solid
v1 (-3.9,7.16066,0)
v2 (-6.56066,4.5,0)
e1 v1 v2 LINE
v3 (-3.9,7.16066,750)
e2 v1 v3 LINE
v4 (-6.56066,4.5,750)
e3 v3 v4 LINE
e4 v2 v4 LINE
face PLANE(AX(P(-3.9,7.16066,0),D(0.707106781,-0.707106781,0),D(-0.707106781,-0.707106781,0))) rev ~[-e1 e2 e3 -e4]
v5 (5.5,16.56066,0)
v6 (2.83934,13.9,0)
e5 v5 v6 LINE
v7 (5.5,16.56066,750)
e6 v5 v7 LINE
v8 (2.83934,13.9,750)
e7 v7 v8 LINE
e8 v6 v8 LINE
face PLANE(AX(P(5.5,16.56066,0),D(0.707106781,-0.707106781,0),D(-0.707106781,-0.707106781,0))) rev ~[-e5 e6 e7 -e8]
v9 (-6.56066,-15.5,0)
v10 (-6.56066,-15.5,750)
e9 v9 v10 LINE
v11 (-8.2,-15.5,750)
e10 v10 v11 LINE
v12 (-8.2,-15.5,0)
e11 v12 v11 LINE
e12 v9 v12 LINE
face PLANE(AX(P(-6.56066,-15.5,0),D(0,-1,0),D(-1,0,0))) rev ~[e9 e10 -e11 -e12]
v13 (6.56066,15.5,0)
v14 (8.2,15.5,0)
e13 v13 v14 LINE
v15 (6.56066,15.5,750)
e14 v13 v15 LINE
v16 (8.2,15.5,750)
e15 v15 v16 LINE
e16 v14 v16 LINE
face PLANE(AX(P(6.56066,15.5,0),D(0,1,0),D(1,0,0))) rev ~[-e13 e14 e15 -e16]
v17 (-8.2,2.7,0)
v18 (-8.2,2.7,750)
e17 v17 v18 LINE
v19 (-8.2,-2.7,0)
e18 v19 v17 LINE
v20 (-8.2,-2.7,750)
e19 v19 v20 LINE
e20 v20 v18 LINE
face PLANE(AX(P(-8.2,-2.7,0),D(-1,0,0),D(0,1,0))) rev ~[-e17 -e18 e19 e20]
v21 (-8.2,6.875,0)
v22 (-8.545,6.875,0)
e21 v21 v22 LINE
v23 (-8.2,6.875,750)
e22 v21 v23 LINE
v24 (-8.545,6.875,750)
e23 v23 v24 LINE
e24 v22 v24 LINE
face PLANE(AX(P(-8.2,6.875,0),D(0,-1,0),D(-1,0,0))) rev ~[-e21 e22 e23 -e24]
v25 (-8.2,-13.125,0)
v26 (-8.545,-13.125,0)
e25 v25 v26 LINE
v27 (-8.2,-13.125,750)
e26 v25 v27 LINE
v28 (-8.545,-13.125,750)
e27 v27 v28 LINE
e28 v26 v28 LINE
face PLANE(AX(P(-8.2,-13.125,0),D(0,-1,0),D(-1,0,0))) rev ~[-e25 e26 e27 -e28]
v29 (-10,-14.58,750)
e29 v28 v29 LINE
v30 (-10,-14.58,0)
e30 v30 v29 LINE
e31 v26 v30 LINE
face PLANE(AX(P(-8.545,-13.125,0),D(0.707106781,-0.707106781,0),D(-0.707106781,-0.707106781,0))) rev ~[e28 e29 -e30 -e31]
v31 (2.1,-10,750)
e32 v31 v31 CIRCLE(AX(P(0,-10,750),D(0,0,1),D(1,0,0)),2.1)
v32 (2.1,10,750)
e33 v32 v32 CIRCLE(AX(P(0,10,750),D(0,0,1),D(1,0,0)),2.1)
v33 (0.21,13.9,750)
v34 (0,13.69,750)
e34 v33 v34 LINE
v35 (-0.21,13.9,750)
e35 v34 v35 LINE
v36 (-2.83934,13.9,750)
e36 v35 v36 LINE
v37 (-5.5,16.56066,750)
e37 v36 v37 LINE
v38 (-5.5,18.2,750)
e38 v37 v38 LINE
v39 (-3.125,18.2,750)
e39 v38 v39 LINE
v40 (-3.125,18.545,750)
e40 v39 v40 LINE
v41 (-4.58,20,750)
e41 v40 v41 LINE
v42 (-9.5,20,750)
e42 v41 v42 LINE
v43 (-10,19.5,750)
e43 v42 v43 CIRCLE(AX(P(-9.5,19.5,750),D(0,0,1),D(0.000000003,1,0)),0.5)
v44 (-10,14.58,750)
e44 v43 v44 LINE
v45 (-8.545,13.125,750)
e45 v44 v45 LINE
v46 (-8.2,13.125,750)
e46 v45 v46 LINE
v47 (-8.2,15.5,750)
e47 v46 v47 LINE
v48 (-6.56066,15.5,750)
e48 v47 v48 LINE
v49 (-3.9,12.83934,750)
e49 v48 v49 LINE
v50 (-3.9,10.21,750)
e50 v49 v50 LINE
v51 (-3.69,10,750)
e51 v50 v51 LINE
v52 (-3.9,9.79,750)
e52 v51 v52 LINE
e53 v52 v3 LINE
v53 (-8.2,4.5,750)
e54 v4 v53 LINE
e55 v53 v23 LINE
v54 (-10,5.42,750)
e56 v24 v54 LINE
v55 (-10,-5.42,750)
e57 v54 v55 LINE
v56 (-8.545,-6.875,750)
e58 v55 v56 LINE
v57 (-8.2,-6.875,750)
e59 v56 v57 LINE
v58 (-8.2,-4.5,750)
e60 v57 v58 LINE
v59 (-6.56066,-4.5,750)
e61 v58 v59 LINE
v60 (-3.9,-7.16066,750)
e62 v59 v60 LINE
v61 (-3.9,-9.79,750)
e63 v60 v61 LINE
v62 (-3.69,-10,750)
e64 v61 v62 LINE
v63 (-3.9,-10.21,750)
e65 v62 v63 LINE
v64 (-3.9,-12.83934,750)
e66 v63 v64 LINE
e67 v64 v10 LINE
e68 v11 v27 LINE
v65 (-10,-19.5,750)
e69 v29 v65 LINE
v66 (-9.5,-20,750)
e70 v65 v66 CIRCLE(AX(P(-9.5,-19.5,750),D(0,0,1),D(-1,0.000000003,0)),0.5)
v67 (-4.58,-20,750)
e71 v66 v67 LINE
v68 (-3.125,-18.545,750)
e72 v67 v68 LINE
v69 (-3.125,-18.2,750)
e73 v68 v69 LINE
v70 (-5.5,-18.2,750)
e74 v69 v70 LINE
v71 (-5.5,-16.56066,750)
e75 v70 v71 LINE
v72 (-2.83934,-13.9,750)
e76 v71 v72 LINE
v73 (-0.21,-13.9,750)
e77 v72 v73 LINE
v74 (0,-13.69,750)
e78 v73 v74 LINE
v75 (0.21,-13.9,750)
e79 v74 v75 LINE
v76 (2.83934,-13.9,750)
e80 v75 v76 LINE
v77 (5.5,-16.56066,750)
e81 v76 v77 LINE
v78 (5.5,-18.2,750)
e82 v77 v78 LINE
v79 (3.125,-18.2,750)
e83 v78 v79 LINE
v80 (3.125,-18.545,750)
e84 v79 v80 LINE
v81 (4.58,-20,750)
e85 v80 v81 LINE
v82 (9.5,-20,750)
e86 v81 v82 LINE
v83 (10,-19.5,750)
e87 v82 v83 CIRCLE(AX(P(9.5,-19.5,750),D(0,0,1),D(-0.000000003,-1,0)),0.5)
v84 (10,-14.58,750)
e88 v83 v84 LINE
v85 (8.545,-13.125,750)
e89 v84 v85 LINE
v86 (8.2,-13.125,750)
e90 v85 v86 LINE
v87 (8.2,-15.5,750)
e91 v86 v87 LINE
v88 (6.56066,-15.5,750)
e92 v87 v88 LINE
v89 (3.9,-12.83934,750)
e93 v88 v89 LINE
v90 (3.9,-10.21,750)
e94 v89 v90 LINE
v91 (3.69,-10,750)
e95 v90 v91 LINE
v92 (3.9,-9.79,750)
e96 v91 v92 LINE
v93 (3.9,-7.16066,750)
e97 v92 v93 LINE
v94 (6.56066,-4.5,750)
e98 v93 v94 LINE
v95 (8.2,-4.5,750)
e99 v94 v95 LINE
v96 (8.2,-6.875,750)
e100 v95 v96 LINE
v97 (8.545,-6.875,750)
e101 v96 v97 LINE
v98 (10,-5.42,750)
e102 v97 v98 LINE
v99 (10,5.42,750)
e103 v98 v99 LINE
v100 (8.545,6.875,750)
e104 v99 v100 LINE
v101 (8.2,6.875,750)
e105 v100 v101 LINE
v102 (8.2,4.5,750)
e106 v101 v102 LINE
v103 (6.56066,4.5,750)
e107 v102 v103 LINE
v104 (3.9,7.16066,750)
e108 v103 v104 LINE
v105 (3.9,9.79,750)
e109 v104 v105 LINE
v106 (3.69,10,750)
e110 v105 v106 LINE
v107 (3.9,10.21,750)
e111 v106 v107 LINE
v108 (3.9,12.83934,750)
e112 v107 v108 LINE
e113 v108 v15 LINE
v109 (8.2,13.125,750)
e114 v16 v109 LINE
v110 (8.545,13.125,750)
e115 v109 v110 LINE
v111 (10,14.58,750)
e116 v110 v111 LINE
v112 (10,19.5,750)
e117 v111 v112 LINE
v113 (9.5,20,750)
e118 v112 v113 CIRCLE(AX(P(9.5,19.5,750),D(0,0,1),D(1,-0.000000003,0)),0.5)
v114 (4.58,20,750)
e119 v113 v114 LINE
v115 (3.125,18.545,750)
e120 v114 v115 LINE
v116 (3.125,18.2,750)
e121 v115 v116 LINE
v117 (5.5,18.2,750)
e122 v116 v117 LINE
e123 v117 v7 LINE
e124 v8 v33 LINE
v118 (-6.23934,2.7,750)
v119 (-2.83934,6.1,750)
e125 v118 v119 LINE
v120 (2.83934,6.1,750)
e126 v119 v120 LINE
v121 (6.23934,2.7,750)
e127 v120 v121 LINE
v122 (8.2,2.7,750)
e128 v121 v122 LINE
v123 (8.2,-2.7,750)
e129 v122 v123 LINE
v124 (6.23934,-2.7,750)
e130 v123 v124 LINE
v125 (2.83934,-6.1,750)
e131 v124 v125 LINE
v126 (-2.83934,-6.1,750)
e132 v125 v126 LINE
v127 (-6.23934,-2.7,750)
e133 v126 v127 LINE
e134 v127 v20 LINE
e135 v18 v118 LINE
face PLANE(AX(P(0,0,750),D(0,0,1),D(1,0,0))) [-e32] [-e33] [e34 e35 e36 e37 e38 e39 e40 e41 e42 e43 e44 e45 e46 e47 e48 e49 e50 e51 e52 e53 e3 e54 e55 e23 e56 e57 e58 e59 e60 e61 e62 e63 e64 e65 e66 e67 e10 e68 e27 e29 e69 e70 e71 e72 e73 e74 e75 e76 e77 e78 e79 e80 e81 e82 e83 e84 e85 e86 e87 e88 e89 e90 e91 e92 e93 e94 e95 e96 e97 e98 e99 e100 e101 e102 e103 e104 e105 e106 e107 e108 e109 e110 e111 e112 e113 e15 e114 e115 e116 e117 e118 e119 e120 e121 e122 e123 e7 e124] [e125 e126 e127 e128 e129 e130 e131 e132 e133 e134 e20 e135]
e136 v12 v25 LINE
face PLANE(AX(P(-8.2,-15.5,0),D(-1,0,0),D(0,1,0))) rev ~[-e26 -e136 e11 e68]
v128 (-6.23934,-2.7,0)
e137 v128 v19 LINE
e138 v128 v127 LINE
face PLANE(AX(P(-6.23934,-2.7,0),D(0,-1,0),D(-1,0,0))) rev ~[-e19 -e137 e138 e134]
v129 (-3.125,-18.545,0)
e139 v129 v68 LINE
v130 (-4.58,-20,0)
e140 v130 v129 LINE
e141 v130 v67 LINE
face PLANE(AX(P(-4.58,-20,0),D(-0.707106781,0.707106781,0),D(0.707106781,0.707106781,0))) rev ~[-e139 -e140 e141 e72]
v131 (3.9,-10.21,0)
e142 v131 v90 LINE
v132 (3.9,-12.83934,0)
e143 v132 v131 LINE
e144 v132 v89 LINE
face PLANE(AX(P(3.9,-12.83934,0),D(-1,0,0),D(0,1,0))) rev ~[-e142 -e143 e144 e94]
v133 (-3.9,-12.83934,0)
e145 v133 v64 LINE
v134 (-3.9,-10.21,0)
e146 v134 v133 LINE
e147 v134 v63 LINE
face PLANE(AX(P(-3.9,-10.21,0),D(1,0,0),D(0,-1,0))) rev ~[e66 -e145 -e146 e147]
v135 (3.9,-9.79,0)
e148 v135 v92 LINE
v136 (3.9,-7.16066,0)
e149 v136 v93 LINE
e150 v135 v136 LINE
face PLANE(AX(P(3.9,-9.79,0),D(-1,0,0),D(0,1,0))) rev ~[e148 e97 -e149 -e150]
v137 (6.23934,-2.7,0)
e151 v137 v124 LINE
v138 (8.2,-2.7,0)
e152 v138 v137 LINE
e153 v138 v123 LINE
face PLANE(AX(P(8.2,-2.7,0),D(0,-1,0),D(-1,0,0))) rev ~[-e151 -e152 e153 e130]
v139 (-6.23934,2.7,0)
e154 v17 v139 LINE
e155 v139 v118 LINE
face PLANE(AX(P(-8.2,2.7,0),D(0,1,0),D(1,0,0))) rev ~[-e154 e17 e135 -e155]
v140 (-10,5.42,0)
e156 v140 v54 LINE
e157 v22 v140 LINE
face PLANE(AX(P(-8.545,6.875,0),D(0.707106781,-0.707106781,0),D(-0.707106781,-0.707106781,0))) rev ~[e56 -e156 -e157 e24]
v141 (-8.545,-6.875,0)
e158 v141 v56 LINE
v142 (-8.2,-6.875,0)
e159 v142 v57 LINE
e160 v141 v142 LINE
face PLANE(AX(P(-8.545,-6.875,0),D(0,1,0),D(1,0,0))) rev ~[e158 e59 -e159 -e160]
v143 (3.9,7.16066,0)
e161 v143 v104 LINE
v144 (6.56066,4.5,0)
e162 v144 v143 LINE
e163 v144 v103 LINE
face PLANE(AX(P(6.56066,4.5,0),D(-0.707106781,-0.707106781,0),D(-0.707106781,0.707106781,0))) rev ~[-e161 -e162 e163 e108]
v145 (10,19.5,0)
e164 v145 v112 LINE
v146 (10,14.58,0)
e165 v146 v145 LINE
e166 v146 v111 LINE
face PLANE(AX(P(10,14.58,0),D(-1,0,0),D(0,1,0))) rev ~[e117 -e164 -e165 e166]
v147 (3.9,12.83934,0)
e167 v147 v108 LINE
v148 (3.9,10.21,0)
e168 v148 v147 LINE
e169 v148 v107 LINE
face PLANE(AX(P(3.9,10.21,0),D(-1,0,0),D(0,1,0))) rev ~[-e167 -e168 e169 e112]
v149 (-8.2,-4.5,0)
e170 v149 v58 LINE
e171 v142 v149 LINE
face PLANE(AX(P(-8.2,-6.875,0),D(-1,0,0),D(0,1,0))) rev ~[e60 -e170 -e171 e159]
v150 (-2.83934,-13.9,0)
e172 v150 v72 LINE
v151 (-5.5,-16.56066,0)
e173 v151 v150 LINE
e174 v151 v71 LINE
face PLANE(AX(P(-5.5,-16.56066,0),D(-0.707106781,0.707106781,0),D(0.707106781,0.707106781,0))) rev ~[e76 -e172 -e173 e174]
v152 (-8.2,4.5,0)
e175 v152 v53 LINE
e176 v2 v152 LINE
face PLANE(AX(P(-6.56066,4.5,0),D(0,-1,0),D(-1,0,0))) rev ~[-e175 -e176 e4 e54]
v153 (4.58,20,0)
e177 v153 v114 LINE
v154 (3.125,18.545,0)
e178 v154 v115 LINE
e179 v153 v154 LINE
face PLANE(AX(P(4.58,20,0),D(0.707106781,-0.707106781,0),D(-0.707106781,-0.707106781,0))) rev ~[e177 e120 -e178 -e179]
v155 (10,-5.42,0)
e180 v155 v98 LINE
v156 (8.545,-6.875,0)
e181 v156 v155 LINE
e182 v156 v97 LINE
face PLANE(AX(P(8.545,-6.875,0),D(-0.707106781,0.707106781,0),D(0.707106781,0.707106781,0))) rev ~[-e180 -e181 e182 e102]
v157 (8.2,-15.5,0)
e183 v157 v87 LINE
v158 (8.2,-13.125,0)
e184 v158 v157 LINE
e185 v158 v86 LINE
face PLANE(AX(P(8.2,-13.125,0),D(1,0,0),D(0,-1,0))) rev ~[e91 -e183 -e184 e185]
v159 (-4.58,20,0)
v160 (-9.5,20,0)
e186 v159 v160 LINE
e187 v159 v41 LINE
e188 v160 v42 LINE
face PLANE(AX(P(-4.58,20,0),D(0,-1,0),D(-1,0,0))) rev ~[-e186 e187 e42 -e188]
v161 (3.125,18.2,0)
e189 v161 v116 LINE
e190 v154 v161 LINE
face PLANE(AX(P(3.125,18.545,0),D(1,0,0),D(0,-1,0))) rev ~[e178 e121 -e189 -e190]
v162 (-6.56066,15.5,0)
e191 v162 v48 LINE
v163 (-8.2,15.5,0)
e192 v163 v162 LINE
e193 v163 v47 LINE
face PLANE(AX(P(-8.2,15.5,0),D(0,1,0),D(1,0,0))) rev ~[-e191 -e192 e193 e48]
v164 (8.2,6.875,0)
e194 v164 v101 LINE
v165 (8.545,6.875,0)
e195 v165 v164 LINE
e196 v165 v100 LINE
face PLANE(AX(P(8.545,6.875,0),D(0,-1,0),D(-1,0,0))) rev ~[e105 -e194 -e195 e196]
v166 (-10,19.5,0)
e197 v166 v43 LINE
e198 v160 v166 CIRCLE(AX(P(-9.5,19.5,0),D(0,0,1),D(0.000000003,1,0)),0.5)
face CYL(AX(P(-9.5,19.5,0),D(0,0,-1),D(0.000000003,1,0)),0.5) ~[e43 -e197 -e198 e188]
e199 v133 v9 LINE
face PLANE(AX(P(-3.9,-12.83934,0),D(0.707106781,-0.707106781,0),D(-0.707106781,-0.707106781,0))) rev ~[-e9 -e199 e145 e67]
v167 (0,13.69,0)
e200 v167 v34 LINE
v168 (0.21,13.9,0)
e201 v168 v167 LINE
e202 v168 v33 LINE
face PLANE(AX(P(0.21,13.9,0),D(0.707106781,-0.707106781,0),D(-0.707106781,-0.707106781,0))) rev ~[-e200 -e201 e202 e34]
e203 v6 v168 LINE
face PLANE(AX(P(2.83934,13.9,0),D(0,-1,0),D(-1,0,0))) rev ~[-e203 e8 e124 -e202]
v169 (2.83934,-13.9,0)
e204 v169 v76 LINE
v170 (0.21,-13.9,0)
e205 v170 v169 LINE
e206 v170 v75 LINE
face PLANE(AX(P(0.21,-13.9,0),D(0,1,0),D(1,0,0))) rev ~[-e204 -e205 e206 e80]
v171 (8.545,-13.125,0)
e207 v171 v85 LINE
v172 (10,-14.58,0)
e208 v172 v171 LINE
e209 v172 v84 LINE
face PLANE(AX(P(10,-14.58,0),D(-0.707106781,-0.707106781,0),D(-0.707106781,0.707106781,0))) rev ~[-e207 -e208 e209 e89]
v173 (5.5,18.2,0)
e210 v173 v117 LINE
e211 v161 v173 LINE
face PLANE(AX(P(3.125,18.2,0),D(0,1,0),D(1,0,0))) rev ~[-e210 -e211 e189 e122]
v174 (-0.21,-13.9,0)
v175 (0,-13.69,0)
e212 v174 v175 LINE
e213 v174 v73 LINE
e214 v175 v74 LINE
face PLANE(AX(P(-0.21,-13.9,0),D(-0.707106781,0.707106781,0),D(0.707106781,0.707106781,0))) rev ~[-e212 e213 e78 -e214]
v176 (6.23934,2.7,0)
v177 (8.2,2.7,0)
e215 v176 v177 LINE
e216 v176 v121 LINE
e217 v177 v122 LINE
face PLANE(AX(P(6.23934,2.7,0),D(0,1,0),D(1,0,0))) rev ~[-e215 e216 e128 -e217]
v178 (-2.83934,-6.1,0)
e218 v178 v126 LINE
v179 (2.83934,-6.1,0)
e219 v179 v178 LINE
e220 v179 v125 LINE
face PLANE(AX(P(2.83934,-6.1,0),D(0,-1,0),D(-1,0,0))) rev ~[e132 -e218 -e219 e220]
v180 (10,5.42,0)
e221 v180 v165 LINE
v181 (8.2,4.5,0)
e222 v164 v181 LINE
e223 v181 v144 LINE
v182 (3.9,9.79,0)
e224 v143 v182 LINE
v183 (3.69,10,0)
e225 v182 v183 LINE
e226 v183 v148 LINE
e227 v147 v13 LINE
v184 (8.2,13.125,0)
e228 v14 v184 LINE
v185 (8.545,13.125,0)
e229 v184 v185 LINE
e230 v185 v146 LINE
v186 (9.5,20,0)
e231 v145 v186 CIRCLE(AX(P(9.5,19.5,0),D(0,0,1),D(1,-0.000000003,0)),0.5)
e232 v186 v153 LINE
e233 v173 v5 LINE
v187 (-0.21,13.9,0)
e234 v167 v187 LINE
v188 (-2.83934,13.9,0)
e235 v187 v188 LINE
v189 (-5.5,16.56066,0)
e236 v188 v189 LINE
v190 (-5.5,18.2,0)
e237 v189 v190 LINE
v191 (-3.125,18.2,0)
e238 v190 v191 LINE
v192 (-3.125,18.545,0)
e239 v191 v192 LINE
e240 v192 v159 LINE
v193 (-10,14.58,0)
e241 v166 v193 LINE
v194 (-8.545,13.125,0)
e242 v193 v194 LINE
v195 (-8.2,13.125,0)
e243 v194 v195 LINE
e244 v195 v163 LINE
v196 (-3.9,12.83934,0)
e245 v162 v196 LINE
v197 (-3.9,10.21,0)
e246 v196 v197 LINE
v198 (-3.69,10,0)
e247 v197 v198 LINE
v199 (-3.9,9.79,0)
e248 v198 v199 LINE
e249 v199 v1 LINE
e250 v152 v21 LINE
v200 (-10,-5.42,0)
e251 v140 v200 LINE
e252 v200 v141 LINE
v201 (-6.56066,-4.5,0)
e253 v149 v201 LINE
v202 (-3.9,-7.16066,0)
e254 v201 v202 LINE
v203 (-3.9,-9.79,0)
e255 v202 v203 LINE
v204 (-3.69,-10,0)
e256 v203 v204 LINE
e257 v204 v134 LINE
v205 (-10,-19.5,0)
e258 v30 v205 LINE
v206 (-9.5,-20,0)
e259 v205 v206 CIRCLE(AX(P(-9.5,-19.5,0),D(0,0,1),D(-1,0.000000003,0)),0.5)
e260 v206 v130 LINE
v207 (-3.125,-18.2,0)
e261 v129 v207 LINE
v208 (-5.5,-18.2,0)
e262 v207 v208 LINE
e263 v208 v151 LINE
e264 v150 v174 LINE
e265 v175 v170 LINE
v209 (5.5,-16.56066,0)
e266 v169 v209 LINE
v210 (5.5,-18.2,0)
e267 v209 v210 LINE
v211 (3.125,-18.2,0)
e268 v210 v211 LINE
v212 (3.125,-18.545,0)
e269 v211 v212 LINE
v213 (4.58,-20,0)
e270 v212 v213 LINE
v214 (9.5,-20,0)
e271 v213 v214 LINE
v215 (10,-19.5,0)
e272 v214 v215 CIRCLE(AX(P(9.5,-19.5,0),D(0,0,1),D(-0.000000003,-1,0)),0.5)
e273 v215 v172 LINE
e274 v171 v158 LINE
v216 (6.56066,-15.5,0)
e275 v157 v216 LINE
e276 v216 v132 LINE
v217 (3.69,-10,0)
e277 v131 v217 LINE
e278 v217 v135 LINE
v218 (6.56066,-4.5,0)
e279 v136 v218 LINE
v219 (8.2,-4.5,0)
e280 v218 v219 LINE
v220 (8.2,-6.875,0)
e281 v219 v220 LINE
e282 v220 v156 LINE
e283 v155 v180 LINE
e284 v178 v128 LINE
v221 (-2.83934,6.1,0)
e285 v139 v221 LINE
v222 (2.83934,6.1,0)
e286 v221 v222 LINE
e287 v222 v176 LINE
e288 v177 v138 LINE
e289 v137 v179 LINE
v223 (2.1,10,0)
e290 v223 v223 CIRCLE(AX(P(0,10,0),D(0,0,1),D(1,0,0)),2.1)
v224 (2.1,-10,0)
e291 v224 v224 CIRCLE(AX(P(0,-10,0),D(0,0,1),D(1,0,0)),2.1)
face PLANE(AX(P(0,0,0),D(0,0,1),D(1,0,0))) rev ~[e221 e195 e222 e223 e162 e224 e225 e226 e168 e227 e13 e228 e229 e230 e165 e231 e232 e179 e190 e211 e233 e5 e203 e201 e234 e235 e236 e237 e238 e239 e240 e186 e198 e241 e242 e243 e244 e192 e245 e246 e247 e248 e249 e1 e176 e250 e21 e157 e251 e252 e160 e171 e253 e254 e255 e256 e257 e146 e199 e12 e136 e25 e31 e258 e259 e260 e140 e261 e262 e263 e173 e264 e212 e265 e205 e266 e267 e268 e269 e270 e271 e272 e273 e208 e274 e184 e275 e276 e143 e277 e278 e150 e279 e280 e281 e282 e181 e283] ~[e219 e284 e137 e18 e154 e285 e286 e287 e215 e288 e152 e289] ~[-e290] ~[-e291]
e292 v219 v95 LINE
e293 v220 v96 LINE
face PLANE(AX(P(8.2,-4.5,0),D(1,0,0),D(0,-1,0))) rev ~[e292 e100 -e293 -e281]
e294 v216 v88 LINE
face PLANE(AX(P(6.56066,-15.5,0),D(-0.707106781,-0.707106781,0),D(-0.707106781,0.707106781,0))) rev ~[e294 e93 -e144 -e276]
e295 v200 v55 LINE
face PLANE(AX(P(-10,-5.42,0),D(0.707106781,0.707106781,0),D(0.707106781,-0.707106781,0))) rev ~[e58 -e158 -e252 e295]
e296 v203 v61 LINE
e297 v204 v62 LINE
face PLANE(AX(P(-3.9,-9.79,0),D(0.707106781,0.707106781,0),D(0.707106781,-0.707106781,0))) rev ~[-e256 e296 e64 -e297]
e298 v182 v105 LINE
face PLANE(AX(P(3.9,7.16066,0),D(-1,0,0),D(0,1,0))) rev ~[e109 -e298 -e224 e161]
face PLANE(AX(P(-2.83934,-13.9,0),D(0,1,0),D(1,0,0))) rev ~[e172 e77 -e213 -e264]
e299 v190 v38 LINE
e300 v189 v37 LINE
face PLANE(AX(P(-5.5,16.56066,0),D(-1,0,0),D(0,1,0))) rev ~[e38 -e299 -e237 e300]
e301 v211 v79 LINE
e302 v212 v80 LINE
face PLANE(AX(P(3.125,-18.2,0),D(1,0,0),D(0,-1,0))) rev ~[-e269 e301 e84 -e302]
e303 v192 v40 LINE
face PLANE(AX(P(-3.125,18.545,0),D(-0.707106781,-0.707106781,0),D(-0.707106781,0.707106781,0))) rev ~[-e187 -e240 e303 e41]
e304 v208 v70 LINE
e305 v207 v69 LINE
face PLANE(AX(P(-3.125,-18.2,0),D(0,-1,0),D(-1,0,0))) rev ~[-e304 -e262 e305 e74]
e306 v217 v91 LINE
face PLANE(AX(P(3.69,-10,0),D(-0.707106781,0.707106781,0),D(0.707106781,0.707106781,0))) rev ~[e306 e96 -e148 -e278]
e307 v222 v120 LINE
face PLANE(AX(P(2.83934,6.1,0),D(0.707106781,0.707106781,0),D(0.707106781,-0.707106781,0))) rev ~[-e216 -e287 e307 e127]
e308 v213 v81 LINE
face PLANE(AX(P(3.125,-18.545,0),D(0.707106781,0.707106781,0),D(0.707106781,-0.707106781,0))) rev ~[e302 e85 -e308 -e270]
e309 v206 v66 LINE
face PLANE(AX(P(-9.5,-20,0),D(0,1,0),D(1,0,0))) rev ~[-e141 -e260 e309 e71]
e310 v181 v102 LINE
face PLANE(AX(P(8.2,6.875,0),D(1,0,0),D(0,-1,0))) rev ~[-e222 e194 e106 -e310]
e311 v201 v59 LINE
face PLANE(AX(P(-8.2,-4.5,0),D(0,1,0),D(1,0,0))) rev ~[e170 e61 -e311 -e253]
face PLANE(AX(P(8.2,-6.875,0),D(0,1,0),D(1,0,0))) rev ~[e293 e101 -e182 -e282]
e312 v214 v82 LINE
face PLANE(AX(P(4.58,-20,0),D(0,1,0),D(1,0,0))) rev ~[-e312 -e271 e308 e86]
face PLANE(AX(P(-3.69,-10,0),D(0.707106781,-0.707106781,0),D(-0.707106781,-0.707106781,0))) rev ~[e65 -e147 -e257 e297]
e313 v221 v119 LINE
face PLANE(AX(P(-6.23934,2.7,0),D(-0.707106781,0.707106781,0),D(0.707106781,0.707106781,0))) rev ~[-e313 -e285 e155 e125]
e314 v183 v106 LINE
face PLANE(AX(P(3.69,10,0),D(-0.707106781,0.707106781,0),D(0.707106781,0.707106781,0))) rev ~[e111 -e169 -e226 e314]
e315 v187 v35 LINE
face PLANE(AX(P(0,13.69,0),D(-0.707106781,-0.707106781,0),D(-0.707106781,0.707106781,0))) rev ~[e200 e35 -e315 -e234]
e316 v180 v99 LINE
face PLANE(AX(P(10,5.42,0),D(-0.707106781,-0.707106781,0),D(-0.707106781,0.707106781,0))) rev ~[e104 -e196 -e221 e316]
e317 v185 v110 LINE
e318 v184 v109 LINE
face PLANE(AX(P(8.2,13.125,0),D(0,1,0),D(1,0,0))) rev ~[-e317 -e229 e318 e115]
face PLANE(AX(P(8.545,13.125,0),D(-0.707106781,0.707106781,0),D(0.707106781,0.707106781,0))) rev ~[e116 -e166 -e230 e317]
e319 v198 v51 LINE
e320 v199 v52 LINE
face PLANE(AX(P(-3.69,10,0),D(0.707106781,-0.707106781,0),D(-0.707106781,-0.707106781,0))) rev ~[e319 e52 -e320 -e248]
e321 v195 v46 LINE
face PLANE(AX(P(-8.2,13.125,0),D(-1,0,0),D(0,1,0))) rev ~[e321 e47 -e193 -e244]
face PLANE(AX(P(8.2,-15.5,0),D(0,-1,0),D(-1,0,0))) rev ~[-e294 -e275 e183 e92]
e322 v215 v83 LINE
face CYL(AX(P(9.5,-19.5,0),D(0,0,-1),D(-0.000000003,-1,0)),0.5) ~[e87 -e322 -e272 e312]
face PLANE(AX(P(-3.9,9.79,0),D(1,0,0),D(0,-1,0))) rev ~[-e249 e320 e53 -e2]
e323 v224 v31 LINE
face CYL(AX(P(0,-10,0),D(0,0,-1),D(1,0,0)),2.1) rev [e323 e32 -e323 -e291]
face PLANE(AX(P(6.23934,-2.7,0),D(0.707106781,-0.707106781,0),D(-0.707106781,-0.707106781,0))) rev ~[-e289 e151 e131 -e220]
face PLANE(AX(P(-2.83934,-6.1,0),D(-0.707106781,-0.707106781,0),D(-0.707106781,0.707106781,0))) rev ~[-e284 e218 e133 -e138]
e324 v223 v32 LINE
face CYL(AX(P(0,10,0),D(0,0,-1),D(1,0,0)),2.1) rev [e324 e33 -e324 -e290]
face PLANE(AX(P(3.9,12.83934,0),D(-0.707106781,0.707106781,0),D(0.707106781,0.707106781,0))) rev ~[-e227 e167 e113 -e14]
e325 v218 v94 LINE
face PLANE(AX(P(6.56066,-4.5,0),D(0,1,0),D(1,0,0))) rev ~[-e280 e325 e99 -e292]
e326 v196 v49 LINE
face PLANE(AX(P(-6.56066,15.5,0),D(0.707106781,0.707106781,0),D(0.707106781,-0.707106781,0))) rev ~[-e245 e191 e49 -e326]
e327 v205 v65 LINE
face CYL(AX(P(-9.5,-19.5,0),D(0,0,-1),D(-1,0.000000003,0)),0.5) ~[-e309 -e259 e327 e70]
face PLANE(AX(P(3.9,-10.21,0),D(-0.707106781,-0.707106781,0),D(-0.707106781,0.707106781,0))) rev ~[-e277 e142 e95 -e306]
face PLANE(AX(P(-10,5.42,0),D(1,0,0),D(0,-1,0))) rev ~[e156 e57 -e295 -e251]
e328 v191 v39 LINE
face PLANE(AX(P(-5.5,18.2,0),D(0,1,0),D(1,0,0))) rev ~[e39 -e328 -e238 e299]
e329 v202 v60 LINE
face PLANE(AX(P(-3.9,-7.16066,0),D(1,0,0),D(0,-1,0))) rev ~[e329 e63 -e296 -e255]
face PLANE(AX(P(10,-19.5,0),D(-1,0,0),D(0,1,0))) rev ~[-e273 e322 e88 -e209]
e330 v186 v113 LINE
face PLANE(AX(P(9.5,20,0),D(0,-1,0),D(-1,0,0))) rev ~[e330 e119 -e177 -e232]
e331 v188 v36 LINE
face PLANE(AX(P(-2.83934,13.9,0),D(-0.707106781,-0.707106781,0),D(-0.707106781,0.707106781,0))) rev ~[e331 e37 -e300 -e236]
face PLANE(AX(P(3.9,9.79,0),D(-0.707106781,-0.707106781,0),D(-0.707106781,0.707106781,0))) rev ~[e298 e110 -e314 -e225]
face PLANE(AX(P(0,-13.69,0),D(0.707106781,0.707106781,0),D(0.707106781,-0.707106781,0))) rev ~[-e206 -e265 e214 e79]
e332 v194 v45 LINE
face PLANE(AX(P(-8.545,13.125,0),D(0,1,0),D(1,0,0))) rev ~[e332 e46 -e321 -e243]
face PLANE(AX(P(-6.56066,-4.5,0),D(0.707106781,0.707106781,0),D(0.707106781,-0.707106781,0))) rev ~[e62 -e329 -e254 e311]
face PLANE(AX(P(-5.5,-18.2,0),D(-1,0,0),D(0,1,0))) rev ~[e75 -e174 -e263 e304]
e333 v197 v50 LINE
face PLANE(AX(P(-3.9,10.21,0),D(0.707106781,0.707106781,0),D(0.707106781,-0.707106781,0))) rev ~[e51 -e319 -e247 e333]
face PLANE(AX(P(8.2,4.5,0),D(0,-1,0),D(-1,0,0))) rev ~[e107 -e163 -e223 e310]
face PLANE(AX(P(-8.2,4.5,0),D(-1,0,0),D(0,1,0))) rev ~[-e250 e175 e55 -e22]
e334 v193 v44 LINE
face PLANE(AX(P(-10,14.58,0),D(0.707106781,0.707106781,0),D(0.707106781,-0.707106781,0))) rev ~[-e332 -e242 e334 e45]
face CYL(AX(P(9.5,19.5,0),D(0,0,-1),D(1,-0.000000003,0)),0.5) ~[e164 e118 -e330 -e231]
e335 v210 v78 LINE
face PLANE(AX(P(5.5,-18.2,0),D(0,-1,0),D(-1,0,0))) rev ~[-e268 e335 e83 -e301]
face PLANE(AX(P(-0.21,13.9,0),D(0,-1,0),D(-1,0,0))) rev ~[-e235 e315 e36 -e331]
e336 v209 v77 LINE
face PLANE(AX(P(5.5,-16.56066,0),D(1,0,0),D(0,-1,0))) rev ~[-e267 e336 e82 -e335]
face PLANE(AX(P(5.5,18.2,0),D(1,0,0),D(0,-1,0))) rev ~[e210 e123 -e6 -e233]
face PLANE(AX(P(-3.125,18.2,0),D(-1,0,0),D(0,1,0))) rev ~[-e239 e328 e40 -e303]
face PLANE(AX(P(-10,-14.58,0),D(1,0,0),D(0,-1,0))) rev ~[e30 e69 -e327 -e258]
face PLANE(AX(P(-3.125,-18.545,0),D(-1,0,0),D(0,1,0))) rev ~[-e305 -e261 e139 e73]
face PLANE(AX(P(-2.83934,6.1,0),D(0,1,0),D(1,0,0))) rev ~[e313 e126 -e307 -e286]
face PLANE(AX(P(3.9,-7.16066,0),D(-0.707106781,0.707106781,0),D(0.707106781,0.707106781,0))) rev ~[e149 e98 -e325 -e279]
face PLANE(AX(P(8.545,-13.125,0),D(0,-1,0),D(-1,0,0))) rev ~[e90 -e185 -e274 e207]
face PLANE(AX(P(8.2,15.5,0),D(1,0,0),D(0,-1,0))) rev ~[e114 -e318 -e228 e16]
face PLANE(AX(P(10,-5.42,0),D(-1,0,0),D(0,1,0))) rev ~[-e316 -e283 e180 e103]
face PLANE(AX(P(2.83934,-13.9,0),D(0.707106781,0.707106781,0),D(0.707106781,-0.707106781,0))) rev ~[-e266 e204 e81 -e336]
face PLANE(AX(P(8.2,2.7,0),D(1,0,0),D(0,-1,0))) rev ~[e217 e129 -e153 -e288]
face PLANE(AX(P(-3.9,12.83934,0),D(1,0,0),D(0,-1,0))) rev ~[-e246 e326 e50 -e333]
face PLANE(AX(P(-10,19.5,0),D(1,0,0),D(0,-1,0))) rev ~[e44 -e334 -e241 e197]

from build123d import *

# Parameters (mm, degrees)
SKETCH1_R           = 2.1
BOSS_EXTRUDE1_DEPTH = 750


with BuildPart() as part:
    # Sketch1 → Boss-Extrude1 (new body)
    with BuildSketch(Plane.XY):
        with BuildLine():
            Line((4.58, -20), (9.5, -20))
            ThreePointArc((9.5, -20), (9.853553391, -19.853553391), (10, -19.5))
            Line((10, -19.5), (10, -14.58))
            Line((10, -14.58), (8.545, -13.125))
            Line((8.545, -13.125), (8.2, -13.125))
            Line((8.2, -13.125), (8.2, -15.5))
            Line((8.2, -15.5), (6.560660172, -15.5))
            Line((6.560660172, -15.5), (3.9, -12.839339828))
            Line((3.9, -12.839339828), (3.9, -10.21))
            Line((3.9, -10.21), (3.69, -10))
            Line((3.69, -10), (3.9, -9.79))
            Line((3.9, -9.79), (3.9, -7.160660172))
            Line((3.9, -7.160660172), (6.560660172, -4.5))
            Line((6.560660172, -4.5), (8.2, -4.5))
            Line((8.2, -4.5), (8.2, -6.875))
            Line((8.2, -6.875), (8.545, -6.875))
            Line((8.545, -6.875), (10, -5.42))
            Line((10, -5.42), (10, 5.42))
            Line((10, 5.42), (8.545, 6.875))
            Line((8.545, 6.875), (8.2, 6.875))
            Line((8.2, 6.875), (8.2, 4.5))
            Line((8.2, 4.5), (6.560660172, 4.5))
            Line((6.560660172, 4.5), (3.9, 7.160660172))
            Line((3.9, 7.160660172), (3.9, 9.79))
            Line((3.9, 9.79), (3.69, 10))
            Line((3.69, 10), (3.9, 10.21))
            Line((3.9, 10.21), (3.9, 12.839339828))
            Line((3.9, 12.839339828), (6.560660172, 15.5))
            Line((6.560660172, 15.5), (8.2, 15.5))
            Line((8.2, 15.5), (8.2, 13.125))
            Line((8.2, 13.125), (8.545, 13.125))
            Line((8.545, 13.125), (10, 14.58))
            Line((10, 14.58), (10, 19.5))
            ThreePointArc((10, 19.5), (9.853553391, 19.853553391), (9.5, 20))
            Line((9.5, 20), (4.58, 20))
            Line((4.58, 20), (3.125, 18.545))
            Line((3.125, 18.545), (3.125, 18.2))
            Line((3.125, 18.2), (5.5, 18.2))
            Line((5.5, 18.2), (5.5, 16.560660172))
            Line((5.5, 16.560660172), (2.839339828, 13.9))
            Line((2.839339828, 13.9), (0.21, 13.9))
            Line((0.21, 13.9), (0, 13.69))
            Line((0, 13.69), (-0.21, 13.9))
            Line((-0.21, 13.9), (-2.839339828, 13.9))
            Line((-2.839339828, 13.9), (-5.5, 16.560660172))
            Line((-5.5, 16.560660172), (-5.5, 18.2))
            Line((-5.5, 18.2), (-3.125, 18.2))
            Line((-3.125, 18.2), (-3.125, 18.545))
            Line((-3.125, 18.545), (-4.58, 20))
            Line((-4.58, 20), (-9.5, 20))
            ThreePointArc((-9.5, 20), (-9.853553391, 19.853553391), (-10, 19.5))
            Line((-10, 19.5), (-10, 14.58))
            Line((-10, 14.58), (-8.545, 13.125))
            Line((-8.545, 13.125), (-8.2, 13.125))
            Line((-8.2, 13.125), (-8.2, 15.5))
            Line((-8.2, 15.5), (-6.560660172, 15.5))
            Line((-6.560660172, 15.5), (-3.9, 12.839339828))
            Line((-3.9, 12.839339828), (-3.9, 10.21))
            Line((-3.9, 10.21), (-3.69, 10))
            Line((-3.69, 10), (-3.9, 9.79))
            Line((-3.9, 9.79), (-3.9, 7.160660172))
            Line((-3.9, 7.160660172), (-6.560660172, 4.5))
            Line((-6.560660172, 4.5), (-8.2, 4.5))
            Line((-8.2, 4.5), (-8.2, 6.875))
            Line((-8.2, 6.875), (-8.545, 6.875))
            Line((-8.545, 6.875), (-10, 5.42))
            Line((-10, 5.42), (-10, -5.42))
            Line((-10, -5.42), (-8.545, -6.875))
            Line((-8.545, -6.875), (-8.2, -6.875))
            Line((-8.2, -6.875), (-8.2, -4.5))
            Line((-8.2, -4.5), (-6.560660172, -4.5))
            Line((-6.560660172, -4.5), (-3.9, -7.160660172))
            Line((-3.9, -7.160660172), (-3.9, -9.79))
            Line((-3.9, -9.79), (-3.69, -10))
            Line((-3.69, -10), (-3.9, -10.21))
            Line((-3.9, -10.21), (-3.9, -12.839339828))
            Line((-3.9, -12.839339828), (-6.560660172, -15.5))
            Line((-6.560660172, -15.5), (-8.2, -15.5))
            Line((-8.2, -15.5), (-8.2, -13.125))
            Line((-8.2, -13.125), (-8.545, -13.125))
            Line((-8.545, -13.125), (-10, -14.58))
            Line((-10, -14.58), (-10, -19.5))
            ThreePointArc((-10, -19.5), (-9.853553391, -19.853553391), (-9.5, -20))
            Line((-9.5, -20), (-4.58, -20))
            Line((-4.58, -20), (-3.125, -18.545))
            Line((-3.125, -18.545), (-3.125, -18.2))
            Line((-3.125, -18.2), (-5.5, -18.2))
            Line((-5.5, -18.2), (-5.5, -16.560660172))
            Line((-5.5, -16.560660172), (-2.839339828, -13.9))
            Line((-2.839339828, -13.9), (-0.21, -13.9))
            Line((-0.21, -13.9), (0, -13.69))
            Line((0, -13.69), (0.21, -13.9))
            Line((0.21, -13.9), (2.839339828, -13.9))
            Line((2.839339828, -13.9), (5.5, -16.560660172))
            Line((5.5, -16.560660172), (5.5, -18.2))
            Line((5.5, -18.2), (3.125, -18.2))
            Line((3.125, -18.2), (3.125, -18.545))
            Line((3.125, -18.545), (4.58, -20))
        make_face()
        with Locations((0, -10)):
            Circle(SKETCH1_R, mode=Mode.SUBTRACT)
        Polygon((-6.239339828, -2.7), (-8.2, -2.7), (-8.2, 2.7), (-6.239339828, 2.7), (-2.839339828, 6.1), (2.839339828, 6.1), (6.239339828, 2.7), (8.2, 2.7), (8.2, -2.7), (6.239339828, -2.7), (2.839339828, -6.1), (-2.839339828, -6.1), align=None, mode=Mode.SUBTRACT)
        with Locations((0, 10)):
            Circle(SKETCH1_R, mode=Mode.SUBTRACT)
    extrude(amount=BOSS_EXTRUDE1_DEPTH)


solid = part.part
